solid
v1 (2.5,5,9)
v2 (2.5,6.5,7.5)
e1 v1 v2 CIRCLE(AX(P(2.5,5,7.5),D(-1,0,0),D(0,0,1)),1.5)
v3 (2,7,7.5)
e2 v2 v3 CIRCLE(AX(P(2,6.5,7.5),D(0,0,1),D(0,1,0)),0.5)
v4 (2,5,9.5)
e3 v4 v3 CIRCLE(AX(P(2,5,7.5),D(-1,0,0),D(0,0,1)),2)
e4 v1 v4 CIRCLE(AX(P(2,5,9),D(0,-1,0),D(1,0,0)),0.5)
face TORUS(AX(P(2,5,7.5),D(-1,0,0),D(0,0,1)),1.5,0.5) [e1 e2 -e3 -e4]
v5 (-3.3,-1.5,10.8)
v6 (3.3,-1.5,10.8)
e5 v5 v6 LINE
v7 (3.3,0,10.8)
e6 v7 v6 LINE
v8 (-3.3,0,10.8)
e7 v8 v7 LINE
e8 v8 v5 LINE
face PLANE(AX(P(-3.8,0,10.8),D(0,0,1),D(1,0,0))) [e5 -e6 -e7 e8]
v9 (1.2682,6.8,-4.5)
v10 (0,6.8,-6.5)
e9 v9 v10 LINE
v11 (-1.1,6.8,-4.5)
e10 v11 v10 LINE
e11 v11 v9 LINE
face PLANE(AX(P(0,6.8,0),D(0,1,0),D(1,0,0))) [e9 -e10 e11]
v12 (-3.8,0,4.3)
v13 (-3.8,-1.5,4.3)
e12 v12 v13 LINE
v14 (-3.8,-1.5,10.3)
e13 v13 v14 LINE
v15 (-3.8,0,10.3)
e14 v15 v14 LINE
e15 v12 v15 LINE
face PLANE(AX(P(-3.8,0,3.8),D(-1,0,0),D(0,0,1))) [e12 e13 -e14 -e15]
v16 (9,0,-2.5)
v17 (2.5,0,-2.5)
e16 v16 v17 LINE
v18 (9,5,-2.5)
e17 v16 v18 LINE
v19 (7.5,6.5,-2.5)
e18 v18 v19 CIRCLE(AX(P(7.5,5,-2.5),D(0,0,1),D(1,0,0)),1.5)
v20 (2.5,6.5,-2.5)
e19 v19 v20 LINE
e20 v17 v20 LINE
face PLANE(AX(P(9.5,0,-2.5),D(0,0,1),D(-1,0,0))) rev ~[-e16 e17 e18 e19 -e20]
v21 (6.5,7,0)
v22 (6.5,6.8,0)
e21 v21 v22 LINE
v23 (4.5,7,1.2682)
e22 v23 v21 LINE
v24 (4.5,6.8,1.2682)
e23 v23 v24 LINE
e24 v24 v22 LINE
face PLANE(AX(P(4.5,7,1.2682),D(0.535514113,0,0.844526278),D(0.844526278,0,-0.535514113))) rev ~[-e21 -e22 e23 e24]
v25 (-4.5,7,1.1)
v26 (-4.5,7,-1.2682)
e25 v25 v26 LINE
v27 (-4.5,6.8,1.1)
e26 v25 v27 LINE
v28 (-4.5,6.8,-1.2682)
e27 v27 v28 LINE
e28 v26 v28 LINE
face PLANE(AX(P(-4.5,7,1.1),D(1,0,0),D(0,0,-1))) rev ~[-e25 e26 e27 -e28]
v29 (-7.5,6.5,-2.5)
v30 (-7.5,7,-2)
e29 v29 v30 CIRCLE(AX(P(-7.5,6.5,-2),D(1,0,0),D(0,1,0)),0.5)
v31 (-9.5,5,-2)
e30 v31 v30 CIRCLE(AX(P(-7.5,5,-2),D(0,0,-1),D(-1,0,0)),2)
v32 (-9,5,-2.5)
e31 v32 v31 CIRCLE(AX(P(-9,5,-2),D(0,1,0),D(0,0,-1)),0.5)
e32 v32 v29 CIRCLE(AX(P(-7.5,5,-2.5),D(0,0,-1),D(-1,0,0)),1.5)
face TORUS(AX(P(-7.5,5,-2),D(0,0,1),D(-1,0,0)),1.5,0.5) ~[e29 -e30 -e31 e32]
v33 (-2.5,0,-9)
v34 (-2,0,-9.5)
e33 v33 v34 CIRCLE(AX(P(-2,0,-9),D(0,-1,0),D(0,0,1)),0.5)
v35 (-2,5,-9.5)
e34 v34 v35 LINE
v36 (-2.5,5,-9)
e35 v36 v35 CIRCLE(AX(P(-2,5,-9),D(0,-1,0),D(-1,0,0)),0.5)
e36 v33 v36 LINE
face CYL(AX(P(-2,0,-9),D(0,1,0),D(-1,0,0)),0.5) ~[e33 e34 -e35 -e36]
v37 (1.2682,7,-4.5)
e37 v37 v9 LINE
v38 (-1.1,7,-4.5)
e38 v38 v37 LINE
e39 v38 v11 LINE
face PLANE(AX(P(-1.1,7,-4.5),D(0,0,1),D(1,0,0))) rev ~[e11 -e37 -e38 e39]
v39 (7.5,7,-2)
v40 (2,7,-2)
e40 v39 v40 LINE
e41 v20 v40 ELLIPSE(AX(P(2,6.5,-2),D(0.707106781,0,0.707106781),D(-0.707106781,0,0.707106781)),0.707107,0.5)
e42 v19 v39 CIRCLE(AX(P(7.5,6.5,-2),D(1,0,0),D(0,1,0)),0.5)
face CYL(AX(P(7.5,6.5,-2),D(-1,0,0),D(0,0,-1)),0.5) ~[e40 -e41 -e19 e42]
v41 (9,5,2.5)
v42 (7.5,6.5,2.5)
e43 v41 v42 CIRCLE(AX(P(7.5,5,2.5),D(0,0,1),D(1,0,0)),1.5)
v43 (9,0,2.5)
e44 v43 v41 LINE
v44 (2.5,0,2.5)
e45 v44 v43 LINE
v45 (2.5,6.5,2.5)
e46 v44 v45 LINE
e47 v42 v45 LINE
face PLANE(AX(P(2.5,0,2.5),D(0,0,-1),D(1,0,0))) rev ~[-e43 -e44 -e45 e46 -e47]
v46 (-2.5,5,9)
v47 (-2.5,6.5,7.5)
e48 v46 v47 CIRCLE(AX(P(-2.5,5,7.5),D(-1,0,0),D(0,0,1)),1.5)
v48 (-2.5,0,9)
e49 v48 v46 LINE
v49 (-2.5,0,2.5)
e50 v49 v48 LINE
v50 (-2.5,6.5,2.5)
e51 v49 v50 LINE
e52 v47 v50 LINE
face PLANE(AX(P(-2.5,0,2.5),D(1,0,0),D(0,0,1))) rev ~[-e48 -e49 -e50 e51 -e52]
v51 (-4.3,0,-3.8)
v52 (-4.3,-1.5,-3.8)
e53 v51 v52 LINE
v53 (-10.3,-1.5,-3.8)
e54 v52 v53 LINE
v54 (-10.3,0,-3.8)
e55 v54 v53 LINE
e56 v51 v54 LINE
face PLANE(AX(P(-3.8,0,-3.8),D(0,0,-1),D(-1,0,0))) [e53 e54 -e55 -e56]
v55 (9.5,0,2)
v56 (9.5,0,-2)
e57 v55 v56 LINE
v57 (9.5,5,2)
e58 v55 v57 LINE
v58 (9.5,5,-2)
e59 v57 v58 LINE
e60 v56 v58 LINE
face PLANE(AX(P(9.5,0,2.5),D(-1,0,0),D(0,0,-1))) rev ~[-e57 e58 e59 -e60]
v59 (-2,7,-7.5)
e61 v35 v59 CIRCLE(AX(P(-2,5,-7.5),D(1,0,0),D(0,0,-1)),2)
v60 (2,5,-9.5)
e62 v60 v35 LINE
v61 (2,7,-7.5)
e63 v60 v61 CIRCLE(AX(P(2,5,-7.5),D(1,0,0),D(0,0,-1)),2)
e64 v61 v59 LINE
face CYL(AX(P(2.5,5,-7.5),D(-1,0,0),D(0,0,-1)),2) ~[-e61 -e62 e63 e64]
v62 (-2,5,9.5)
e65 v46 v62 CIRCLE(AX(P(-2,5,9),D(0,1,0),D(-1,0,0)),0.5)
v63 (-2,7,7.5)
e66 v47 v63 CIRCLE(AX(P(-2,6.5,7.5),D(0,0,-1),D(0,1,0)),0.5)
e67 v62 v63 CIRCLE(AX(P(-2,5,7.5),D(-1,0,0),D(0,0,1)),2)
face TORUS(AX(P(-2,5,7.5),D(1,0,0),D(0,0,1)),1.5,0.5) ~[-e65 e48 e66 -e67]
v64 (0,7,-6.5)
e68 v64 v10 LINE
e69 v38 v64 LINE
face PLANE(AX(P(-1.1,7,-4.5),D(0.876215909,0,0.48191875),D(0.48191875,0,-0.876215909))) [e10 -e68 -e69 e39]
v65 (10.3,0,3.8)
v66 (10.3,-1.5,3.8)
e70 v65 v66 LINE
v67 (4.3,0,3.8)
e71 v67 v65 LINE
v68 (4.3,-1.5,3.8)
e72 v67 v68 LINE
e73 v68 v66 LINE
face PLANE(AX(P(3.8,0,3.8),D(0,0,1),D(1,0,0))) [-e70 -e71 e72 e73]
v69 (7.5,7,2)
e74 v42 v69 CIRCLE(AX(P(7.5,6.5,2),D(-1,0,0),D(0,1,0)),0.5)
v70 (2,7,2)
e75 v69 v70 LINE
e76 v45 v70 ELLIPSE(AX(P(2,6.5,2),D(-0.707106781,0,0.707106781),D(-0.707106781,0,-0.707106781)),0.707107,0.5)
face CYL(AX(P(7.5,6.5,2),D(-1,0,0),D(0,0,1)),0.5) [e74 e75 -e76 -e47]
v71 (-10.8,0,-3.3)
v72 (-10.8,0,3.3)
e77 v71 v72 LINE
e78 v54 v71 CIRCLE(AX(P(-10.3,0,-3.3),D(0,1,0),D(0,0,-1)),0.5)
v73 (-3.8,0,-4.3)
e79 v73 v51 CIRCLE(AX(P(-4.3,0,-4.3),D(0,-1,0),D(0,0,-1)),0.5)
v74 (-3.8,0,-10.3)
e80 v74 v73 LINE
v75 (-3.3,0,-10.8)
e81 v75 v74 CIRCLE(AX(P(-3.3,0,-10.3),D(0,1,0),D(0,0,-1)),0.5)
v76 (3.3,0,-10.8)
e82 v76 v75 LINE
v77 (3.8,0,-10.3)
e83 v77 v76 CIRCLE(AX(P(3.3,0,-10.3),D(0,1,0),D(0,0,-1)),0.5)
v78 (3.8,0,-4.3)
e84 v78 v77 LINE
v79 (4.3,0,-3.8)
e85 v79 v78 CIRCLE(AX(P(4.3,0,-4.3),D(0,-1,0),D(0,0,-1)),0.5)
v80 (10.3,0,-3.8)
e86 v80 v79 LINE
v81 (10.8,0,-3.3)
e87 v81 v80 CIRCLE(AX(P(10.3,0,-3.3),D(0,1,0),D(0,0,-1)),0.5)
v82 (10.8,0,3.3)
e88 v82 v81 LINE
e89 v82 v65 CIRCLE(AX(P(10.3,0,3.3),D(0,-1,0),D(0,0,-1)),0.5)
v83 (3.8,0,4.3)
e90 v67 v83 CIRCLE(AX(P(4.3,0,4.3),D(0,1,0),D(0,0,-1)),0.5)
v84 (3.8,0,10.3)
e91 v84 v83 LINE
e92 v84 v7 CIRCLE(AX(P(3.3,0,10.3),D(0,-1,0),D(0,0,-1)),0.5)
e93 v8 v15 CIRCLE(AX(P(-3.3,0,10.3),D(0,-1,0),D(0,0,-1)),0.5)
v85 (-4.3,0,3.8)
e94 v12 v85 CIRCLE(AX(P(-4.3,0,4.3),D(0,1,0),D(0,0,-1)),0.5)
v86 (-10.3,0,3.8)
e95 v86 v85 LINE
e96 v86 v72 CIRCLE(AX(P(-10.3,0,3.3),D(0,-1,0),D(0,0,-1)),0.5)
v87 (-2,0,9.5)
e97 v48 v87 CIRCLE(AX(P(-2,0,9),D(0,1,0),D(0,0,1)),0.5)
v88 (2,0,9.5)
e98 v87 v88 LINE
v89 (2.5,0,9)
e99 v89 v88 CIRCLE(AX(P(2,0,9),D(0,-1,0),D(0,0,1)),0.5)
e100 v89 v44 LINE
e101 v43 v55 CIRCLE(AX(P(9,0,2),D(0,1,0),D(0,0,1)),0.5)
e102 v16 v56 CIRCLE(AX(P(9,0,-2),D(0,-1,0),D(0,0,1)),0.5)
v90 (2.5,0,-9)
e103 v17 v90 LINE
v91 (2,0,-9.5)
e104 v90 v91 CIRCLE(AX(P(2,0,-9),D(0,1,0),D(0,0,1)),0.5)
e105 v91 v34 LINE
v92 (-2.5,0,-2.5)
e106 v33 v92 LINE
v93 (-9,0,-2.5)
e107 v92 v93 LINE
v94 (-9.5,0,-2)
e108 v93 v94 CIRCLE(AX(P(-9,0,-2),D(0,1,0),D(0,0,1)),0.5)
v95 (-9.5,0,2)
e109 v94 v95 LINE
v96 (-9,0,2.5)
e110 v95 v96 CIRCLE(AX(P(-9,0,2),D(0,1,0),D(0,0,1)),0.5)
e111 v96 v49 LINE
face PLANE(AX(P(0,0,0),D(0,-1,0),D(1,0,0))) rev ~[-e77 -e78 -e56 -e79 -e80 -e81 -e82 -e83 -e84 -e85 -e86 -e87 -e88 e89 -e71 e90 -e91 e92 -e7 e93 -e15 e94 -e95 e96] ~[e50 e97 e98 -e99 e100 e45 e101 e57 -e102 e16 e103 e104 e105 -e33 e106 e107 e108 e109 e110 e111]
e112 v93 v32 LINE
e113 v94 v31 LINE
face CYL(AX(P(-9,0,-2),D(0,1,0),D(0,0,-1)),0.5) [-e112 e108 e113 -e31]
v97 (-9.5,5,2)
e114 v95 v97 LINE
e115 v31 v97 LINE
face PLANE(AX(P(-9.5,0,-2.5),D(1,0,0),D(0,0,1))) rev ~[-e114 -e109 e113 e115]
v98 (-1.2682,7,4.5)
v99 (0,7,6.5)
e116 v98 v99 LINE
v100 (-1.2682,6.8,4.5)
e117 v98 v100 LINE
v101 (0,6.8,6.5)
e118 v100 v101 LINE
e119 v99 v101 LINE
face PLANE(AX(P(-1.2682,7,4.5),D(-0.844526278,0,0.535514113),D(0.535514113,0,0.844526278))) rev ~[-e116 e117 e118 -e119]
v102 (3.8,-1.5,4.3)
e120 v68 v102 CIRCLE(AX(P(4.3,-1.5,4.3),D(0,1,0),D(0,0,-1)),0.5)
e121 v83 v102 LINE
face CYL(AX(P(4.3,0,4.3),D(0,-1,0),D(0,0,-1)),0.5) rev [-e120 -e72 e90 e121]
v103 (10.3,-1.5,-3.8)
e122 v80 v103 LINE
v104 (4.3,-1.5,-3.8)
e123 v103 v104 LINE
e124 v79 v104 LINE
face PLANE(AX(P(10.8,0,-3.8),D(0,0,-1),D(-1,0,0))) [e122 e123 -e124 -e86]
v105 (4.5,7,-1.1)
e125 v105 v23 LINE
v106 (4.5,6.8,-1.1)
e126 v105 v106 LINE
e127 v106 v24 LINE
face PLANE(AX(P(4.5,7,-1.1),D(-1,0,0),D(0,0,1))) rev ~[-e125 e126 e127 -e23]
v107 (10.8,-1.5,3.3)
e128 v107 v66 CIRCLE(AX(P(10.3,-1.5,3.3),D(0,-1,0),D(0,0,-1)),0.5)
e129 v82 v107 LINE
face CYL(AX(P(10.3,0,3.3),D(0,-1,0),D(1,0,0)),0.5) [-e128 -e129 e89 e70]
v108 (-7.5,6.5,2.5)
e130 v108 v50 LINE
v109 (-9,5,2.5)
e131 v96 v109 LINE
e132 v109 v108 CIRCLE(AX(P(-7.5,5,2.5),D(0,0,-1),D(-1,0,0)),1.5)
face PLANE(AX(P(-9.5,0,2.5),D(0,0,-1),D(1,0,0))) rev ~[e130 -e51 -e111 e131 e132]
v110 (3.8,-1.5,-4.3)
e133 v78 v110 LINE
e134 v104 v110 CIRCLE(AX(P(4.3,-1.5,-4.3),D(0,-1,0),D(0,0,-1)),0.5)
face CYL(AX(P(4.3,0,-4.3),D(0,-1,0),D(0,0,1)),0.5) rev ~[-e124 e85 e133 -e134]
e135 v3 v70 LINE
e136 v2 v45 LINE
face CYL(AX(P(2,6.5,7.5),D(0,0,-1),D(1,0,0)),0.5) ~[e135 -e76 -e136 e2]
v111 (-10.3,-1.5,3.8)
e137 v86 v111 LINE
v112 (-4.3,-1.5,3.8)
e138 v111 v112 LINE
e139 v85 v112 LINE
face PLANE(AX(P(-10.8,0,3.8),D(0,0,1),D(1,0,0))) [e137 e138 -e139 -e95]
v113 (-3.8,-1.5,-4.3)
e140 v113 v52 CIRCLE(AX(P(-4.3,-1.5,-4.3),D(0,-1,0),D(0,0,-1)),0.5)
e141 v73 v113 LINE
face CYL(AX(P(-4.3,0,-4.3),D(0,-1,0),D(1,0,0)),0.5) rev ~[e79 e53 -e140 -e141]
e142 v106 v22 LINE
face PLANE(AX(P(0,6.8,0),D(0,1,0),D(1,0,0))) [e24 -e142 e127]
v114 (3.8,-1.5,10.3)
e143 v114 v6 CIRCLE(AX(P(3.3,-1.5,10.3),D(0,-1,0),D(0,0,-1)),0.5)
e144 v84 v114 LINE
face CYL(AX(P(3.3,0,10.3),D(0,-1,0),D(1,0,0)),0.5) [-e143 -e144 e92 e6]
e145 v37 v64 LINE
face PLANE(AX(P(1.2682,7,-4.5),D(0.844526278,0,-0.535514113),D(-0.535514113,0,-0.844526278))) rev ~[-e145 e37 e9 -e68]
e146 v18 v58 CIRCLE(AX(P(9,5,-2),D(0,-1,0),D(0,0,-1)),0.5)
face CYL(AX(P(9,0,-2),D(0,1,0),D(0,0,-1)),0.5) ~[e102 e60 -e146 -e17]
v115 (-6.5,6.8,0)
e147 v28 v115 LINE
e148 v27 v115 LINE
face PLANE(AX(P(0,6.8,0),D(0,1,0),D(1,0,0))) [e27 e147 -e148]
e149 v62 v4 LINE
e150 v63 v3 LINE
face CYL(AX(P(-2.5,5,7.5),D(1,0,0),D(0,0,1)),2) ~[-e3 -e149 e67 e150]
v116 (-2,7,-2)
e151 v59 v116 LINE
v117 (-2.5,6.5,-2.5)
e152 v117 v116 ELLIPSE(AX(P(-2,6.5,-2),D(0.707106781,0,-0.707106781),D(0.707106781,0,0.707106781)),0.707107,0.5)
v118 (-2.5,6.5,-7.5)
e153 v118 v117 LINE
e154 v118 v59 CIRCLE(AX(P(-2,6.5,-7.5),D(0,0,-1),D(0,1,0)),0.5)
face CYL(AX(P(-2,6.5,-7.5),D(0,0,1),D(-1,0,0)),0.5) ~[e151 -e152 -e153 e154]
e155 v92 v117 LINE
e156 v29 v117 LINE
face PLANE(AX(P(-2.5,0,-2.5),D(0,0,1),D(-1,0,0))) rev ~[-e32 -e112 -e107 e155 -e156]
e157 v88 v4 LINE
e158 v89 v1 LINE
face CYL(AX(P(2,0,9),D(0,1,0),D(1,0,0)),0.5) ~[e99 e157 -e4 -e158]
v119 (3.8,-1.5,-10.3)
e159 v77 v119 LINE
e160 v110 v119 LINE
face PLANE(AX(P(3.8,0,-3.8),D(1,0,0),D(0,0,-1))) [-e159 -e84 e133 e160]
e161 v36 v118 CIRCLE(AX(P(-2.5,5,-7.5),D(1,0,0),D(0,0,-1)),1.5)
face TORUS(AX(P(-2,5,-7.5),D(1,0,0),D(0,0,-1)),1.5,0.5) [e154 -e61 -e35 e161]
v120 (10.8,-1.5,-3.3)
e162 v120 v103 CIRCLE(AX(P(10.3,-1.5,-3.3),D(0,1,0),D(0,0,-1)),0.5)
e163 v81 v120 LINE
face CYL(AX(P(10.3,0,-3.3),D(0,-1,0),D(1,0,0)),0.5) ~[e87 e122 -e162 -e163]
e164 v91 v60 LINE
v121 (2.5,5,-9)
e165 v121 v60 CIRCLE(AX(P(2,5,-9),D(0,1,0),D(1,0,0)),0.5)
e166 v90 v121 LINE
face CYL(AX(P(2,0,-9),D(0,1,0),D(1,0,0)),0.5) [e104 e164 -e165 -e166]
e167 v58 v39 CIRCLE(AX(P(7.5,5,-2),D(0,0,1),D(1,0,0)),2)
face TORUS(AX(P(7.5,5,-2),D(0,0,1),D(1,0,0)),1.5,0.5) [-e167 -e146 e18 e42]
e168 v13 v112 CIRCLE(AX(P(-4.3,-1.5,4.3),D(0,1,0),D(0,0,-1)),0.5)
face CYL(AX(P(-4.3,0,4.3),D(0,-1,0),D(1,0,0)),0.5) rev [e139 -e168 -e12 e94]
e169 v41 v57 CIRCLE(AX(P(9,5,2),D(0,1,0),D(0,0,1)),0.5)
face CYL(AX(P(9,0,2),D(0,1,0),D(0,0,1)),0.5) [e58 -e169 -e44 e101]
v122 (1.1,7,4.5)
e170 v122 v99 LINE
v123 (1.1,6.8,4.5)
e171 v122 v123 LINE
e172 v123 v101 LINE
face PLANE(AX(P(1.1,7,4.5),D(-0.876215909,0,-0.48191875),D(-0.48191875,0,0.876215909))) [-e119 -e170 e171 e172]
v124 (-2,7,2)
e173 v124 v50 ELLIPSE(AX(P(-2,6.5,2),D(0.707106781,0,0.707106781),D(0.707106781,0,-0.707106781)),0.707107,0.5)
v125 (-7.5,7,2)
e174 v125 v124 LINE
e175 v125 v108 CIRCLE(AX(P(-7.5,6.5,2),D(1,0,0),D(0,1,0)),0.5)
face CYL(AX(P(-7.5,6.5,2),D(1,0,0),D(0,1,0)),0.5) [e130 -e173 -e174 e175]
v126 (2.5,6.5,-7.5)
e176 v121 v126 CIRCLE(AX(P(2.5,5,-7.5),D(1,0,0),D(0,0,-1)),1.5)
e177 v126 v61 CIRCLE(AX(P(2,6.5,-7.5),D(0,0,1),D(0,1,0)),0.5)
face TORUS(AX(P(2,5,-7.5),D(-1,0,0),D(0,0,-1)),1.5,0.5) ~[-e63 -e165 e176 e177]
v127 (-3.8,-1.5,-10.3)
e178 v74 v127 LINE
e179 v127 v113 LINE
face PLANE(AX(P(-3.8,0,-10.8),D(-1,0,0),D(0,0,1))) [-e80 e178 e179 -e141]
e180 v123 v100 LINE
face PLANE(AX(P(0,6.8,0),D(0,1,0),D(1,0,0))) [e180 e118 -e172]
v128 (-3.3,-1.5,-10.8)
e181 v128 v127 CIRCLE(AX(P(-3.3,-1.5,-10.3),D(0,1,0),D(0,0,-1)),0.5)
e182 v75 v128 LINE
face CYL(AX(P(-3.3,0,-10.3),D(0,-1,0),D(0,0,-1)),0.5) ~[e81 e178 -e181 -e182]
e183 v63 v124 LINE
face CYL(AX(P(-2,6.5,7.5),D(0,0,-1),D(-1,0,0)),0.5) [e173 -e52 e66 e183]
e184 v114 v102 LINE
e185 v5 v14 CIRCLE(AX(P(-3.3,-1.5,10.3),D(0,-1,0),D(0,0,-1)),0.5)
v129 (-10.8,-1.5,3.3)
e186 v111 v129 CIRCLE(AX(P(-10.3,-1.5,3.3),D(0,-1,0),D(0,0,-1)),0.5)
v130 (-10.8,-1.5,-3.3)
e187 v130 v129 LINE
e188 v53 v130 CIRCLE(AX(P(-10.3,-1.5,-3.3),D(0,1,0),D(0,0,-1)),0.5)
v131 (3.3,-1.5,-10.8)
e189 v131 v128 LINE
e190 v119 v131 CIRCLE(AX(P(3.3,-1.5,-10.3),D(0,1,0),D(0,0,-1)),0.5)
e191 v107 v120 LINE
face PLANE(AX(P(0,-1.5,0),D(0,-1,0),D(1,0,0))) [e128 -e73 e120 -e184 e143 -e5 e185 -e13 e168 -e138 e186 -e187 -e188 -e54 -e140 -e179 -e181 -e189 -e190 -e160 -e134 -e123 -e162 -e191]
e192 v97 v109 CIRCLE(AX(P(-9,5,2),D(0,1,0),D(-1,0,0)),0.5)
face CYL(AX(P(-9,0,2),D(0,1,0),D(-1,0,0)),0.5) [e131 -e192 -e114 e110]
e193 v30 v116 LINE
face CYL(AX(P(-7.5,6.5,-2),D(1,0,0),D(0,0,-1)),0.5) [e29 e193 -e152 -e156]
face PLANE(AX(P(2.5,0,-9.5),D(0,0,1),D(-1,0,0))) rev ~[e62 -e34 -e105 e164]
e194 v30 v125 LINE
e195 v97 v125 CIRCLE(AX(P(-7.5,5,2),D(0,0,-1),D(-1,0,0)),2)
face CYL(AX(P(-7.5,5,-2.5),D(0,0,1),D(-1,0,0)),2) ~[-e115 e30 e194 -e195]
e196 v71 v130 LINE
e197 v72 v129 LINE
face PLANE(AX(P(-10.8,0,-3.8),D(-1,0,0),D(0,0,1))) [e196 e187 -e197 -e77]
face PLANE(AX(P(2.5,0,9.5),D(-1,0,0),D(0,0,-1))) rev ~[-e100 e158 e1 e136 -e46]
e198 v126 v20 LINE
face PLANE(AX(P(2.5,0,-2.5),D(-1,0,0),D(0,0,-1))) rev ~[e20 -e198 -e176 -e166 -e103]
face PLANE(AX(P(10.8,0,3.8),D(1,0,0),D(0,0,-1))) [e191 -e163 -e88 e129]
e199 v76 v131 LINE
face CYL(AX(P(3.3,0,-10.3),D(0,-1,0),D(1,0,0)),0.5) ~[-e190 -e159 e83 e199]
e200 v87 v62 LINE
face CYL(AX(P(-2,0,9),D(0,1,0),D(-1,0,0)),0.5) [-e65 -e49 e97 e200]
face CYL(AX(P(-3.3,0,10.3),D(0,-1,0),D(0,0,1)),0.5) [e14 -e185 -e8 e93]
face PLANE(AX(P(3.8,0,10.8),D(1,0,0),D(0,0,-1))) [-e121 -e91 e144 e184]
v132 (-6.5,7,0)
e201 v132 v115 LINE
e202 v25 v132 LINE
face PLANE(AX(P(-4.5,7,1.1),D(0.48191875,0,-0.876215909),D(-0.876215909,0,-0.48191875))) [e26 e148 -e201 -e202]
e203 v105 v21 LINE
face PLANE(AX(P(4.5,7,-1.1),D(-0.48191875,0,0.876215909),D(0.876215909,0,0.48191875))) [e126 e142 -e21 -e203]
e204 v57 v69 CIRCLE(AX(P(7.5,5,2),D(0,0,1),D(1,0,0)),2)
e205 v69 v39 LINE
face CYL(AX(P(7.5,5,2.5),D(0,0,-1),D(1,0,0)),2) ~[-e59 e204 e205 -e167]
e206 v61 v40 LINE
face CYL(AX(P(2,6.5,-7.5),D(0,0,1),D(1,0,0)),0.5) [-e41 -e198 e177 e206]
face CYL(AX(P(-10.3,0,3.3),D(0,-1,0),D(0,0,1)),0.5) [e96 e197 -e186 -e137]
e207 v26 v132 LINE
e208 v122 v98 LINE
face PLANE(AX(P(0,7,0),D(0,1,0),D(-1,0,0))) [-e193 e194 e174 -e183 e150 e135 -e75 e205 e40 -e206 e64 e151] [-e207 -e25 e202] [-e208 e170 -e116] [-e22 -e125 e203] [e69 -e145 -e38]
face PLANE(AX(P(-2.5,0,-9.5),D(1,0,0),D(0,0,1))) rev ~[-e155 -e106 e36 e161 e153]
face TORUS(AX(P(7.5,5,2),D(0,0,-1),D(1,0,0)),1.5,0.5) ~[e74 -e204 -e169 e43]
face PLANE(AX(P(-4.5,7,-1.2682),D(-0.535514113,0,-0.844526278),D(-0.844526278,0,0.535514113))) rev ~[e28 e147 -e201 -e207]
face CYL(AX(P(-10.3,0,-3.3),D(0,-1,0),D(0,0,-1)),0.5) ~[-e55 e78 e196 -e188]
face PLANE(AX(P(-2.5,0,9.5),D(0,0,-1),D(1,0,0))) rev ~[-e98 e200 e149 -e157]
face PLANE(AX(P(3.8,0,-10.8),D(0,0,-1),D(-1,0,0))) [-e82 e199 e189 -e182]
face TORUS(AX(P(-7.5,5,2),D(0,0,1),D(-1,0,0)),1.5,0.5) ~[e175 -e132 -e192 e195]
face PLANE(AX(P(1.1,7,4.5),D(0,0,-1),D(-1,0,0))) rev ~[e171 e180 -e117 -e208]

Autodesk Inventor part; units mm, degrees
ref_plane "YZ Plane" through (0, 0, 0) normal (1, 0, 0) x (0, 1, 0)
ref_plane "XZ Plane" through (0, 0, 0) normal (0, 1, 0) x (-1, 0, 0)
ref_plane "XY Plane" through (0, 0, 0) normal (0, 0, 1) x (1, 0, 0)
sketch "Esquisse1" plane through (0, 0, 0) normal (0, 1, 0) x (-1, 0, 0)
  line L0 (9.5, 2.5) -> (-9.5, 2.5)
  line L1 (-9.5, 2.5) -> (-9.5, -2.5)
  line L2 (-9.5, -2.5) -> (9.5, -2.5)
  line L3 (9.5, -2.5) -> (9.5, 2.5)
  line L4 (2.5, 9.5) -> (-2.5, 9.5)
  line L5 (-2.5, 9.5) -> (-2.5, -9.5)
  line L6 (-2.5, -9.5) -> (2.5, -9.5)
  line L7 (2.5, -9.5) -> (2.5, 9.5)
  point P0 (0, 0)
  dimension "d0" = 19
  dimension "d1" = 19
  dimension "d2" = 5
  dimension "d3" = 5
  dimension "d4" = 7
  dimension "d5" = 7
  dimension "d6" = 2.5
  dimension "d7" = 2.5
extrude "Extrusion1" add sketch "Esquisse1" along normal blind 7
sketch "Esquisse2" plane through (0, 0, 0) normal (0, -1, 0) x (1, 0, 0)
  line L0 (2.5, 9.5) -> (2.5, 2.5) projected
  line L1 (-2.5, 9.5) -> (2.5, 9.5) projected
  line L2 (-2.5, 2.5) -> (-2.5, 9.5) projected
  line L3 (-9.5, 2.5) -> (-2.5, 2.5) projected
  line L4 (-9.5, -2.5) -> (-9.5, 2.5) projected
  line L5 (-2.5, -2.5) -> (-9.5, -2.5) projected
  line L6 (-2.5, -9.5) -> (-2.5, -2.5) projected
  line L7 (2.5, -9.5) -> (-2.5, -9.5) projected
  line L8 (2.5, -2.5) -> (2.5, -9.5) projected
  line L9 (9.5, -2.5) -> (2.5, -2.5) projected
  line L10 (9.5, 2.5) -> (9.5, -2.5) projected
  line L11 (2.5, 2.5) -> (9.5, 2.5) projected
  line L12 (10.8, 3.8) -> (10.8, -3.8)
  line L13 (10.8, -3.8) -> (3.8, -3.8)
  line L14 (3.8, -3.8) -> (3.8, -10.8)
  line L15 (3.8, -10.8) -> (-3.8, -10.8)
  line L16 (-3.8, -10.8) -> (-3.8, -3.8)
  line L17 (-3.8, -3.8) -> (-10.8, -3.8)
  line L18 (-10.8, -3.8) -> (-10.8, 3.8)
  line L19 (-10.8, 3.8) -> (-3.8, 3.8)
  line L20 (-3.8, 3.8) -> (-3.8, 10.8)
  line L21 (-3.8, 10.8) -> (3.8, 10.8)
  line L22 (3.8, 10.8) -> (3.8, 3.8)
  line L23 (3.8, 3.8) -> (10.8, 3.8)
  point P0 (0, 0)
  dimension "d10" = 1.3
extrude "Extrusion2" add sketch "Esquisse2" along normal blind 1.5 contours L0 L11 L10 L9 L8 L7 L6 L5 L4 L3 L2 L1 | L12 L13 L14 L15 L16 L17 L18 L19 L20 L21 L22 L23
fillet "Congé1" radius 2 4 edges at (0, 7, 9.5) (9.5, 7, 0) (0, 7, -9.5) (-9.5, 7, 0)
fillet "Congé2" radius 0.5 24 edges at (2.5, 6.4142, 8.9142) (2.5, 2.5, 9.5) (2.5, 7, 5) (8.9142, 6.4142, 2.5) (9.5, 2.5, 2.5) (5, 7, 2.5) (8.9142, 6.4142, -2.5) (9.5, 2.5, -2.5) (5, 7, -2.5) (2.5, 6.4142, -8.9142) (2.5, 2.5, -9.5) (2.5, 7, -5) (-2.5, 6.4142, -8.9142) (-2.5, 2.5, -9.5) (-2.5, 7, -5) (-8.9142, 6.4142, -2.5) (-9.5, 2.5, -2.5) (-5, 7, -2.5) (-8.9142, 6.4142, 2.5) (-9.5, 2.5, 2.5) (-5, 7, 2.5) (-2.5, 6.4142, 8.9142) (-2.5, 2.5, 9.5) (-2.5, 7, 5)
fillet "Congé3" radius 0.5 12 edges at (10.8, -0.75, -3.8) (10.8, -0.75, 3.8) (3.8, -0.75, -3.8) (3.8, -0.75, -10.8) (-3.8, -0.75, -10.8) (-3.8, -0.75, -3.8) (-10.8, -0.75, -3.8) (-10.8, -0.75, 3.8) (-3.8, -0.75, 3.8) (-3.8, -0.75, 10.8) (3.8, -0.75, 10.8) (3.8, -0.75, 3.8)
sketch "Esquisse3" plane through (0, 7, 0) normal (0, 1, 0) x (1, 0, 0)
  line L0 (1.1, -4.5) -> (-1.2682, -4.5)
  line L1 (-1.2682, -4.5) -> (0, -6.5)
  line L2 (1.1, -4.5) -> (0, -6.5)
  line L3 (2.5, -7.5) -> (2.5, -2.5) projected
  line L4 (-2, -9.5) -> (2, -9.5) projected
  line L5 (-4.5, -1.1) -> (-4.5, 1.2682)
  line L6 (-4.5, 1.2682) -> (-6.5, 0)
  line L7 (-4.5, -1.1) -> (-6.5, 0)
  line L8 (-1.1, 4.5) -> (1.2682, 4.5)
  line L9 (1.2682, 4.5) -> (0, 6.5)
  line L10 (-1.1, 4.5) -> (0, 6.5)
  line L11 (4.5, 1.1) -> (4.5, -1.2682)
  line L12 (4.5, -1.2682) -> (6.5, 0)
  line L13 (4.5, 1.1) -> (6.5, 0)
  point P0 (0, 0)
  point P1 (0, 0)
  point P2 (0, 0)
  point P3 (0, 0)
  dimension "d18" = 1.1
  dimension "d19" = 2.5
  dimension "d20" = 3
  dimension "d21" = 5
  dimension "d24" = 360
extrude "Extrusion3" cut sketch "Esquisse3" against normal blind 0.2
equation "\"d1\" = d0"
equation "\"d3\" = d2"
equation "\"d4\" = -0.5 * d2 + 0.5 * d0"
equation "\"d5\" = d4"
equation "\"d6\" = 0.5 * d3"
equation "\"d7\" = 0.5 * d2"
equation "\"d18\" = 0.5 * d17"
equation "\"d17\" = 2.2"
properties part number "Cross" material "Plastique ABS"
